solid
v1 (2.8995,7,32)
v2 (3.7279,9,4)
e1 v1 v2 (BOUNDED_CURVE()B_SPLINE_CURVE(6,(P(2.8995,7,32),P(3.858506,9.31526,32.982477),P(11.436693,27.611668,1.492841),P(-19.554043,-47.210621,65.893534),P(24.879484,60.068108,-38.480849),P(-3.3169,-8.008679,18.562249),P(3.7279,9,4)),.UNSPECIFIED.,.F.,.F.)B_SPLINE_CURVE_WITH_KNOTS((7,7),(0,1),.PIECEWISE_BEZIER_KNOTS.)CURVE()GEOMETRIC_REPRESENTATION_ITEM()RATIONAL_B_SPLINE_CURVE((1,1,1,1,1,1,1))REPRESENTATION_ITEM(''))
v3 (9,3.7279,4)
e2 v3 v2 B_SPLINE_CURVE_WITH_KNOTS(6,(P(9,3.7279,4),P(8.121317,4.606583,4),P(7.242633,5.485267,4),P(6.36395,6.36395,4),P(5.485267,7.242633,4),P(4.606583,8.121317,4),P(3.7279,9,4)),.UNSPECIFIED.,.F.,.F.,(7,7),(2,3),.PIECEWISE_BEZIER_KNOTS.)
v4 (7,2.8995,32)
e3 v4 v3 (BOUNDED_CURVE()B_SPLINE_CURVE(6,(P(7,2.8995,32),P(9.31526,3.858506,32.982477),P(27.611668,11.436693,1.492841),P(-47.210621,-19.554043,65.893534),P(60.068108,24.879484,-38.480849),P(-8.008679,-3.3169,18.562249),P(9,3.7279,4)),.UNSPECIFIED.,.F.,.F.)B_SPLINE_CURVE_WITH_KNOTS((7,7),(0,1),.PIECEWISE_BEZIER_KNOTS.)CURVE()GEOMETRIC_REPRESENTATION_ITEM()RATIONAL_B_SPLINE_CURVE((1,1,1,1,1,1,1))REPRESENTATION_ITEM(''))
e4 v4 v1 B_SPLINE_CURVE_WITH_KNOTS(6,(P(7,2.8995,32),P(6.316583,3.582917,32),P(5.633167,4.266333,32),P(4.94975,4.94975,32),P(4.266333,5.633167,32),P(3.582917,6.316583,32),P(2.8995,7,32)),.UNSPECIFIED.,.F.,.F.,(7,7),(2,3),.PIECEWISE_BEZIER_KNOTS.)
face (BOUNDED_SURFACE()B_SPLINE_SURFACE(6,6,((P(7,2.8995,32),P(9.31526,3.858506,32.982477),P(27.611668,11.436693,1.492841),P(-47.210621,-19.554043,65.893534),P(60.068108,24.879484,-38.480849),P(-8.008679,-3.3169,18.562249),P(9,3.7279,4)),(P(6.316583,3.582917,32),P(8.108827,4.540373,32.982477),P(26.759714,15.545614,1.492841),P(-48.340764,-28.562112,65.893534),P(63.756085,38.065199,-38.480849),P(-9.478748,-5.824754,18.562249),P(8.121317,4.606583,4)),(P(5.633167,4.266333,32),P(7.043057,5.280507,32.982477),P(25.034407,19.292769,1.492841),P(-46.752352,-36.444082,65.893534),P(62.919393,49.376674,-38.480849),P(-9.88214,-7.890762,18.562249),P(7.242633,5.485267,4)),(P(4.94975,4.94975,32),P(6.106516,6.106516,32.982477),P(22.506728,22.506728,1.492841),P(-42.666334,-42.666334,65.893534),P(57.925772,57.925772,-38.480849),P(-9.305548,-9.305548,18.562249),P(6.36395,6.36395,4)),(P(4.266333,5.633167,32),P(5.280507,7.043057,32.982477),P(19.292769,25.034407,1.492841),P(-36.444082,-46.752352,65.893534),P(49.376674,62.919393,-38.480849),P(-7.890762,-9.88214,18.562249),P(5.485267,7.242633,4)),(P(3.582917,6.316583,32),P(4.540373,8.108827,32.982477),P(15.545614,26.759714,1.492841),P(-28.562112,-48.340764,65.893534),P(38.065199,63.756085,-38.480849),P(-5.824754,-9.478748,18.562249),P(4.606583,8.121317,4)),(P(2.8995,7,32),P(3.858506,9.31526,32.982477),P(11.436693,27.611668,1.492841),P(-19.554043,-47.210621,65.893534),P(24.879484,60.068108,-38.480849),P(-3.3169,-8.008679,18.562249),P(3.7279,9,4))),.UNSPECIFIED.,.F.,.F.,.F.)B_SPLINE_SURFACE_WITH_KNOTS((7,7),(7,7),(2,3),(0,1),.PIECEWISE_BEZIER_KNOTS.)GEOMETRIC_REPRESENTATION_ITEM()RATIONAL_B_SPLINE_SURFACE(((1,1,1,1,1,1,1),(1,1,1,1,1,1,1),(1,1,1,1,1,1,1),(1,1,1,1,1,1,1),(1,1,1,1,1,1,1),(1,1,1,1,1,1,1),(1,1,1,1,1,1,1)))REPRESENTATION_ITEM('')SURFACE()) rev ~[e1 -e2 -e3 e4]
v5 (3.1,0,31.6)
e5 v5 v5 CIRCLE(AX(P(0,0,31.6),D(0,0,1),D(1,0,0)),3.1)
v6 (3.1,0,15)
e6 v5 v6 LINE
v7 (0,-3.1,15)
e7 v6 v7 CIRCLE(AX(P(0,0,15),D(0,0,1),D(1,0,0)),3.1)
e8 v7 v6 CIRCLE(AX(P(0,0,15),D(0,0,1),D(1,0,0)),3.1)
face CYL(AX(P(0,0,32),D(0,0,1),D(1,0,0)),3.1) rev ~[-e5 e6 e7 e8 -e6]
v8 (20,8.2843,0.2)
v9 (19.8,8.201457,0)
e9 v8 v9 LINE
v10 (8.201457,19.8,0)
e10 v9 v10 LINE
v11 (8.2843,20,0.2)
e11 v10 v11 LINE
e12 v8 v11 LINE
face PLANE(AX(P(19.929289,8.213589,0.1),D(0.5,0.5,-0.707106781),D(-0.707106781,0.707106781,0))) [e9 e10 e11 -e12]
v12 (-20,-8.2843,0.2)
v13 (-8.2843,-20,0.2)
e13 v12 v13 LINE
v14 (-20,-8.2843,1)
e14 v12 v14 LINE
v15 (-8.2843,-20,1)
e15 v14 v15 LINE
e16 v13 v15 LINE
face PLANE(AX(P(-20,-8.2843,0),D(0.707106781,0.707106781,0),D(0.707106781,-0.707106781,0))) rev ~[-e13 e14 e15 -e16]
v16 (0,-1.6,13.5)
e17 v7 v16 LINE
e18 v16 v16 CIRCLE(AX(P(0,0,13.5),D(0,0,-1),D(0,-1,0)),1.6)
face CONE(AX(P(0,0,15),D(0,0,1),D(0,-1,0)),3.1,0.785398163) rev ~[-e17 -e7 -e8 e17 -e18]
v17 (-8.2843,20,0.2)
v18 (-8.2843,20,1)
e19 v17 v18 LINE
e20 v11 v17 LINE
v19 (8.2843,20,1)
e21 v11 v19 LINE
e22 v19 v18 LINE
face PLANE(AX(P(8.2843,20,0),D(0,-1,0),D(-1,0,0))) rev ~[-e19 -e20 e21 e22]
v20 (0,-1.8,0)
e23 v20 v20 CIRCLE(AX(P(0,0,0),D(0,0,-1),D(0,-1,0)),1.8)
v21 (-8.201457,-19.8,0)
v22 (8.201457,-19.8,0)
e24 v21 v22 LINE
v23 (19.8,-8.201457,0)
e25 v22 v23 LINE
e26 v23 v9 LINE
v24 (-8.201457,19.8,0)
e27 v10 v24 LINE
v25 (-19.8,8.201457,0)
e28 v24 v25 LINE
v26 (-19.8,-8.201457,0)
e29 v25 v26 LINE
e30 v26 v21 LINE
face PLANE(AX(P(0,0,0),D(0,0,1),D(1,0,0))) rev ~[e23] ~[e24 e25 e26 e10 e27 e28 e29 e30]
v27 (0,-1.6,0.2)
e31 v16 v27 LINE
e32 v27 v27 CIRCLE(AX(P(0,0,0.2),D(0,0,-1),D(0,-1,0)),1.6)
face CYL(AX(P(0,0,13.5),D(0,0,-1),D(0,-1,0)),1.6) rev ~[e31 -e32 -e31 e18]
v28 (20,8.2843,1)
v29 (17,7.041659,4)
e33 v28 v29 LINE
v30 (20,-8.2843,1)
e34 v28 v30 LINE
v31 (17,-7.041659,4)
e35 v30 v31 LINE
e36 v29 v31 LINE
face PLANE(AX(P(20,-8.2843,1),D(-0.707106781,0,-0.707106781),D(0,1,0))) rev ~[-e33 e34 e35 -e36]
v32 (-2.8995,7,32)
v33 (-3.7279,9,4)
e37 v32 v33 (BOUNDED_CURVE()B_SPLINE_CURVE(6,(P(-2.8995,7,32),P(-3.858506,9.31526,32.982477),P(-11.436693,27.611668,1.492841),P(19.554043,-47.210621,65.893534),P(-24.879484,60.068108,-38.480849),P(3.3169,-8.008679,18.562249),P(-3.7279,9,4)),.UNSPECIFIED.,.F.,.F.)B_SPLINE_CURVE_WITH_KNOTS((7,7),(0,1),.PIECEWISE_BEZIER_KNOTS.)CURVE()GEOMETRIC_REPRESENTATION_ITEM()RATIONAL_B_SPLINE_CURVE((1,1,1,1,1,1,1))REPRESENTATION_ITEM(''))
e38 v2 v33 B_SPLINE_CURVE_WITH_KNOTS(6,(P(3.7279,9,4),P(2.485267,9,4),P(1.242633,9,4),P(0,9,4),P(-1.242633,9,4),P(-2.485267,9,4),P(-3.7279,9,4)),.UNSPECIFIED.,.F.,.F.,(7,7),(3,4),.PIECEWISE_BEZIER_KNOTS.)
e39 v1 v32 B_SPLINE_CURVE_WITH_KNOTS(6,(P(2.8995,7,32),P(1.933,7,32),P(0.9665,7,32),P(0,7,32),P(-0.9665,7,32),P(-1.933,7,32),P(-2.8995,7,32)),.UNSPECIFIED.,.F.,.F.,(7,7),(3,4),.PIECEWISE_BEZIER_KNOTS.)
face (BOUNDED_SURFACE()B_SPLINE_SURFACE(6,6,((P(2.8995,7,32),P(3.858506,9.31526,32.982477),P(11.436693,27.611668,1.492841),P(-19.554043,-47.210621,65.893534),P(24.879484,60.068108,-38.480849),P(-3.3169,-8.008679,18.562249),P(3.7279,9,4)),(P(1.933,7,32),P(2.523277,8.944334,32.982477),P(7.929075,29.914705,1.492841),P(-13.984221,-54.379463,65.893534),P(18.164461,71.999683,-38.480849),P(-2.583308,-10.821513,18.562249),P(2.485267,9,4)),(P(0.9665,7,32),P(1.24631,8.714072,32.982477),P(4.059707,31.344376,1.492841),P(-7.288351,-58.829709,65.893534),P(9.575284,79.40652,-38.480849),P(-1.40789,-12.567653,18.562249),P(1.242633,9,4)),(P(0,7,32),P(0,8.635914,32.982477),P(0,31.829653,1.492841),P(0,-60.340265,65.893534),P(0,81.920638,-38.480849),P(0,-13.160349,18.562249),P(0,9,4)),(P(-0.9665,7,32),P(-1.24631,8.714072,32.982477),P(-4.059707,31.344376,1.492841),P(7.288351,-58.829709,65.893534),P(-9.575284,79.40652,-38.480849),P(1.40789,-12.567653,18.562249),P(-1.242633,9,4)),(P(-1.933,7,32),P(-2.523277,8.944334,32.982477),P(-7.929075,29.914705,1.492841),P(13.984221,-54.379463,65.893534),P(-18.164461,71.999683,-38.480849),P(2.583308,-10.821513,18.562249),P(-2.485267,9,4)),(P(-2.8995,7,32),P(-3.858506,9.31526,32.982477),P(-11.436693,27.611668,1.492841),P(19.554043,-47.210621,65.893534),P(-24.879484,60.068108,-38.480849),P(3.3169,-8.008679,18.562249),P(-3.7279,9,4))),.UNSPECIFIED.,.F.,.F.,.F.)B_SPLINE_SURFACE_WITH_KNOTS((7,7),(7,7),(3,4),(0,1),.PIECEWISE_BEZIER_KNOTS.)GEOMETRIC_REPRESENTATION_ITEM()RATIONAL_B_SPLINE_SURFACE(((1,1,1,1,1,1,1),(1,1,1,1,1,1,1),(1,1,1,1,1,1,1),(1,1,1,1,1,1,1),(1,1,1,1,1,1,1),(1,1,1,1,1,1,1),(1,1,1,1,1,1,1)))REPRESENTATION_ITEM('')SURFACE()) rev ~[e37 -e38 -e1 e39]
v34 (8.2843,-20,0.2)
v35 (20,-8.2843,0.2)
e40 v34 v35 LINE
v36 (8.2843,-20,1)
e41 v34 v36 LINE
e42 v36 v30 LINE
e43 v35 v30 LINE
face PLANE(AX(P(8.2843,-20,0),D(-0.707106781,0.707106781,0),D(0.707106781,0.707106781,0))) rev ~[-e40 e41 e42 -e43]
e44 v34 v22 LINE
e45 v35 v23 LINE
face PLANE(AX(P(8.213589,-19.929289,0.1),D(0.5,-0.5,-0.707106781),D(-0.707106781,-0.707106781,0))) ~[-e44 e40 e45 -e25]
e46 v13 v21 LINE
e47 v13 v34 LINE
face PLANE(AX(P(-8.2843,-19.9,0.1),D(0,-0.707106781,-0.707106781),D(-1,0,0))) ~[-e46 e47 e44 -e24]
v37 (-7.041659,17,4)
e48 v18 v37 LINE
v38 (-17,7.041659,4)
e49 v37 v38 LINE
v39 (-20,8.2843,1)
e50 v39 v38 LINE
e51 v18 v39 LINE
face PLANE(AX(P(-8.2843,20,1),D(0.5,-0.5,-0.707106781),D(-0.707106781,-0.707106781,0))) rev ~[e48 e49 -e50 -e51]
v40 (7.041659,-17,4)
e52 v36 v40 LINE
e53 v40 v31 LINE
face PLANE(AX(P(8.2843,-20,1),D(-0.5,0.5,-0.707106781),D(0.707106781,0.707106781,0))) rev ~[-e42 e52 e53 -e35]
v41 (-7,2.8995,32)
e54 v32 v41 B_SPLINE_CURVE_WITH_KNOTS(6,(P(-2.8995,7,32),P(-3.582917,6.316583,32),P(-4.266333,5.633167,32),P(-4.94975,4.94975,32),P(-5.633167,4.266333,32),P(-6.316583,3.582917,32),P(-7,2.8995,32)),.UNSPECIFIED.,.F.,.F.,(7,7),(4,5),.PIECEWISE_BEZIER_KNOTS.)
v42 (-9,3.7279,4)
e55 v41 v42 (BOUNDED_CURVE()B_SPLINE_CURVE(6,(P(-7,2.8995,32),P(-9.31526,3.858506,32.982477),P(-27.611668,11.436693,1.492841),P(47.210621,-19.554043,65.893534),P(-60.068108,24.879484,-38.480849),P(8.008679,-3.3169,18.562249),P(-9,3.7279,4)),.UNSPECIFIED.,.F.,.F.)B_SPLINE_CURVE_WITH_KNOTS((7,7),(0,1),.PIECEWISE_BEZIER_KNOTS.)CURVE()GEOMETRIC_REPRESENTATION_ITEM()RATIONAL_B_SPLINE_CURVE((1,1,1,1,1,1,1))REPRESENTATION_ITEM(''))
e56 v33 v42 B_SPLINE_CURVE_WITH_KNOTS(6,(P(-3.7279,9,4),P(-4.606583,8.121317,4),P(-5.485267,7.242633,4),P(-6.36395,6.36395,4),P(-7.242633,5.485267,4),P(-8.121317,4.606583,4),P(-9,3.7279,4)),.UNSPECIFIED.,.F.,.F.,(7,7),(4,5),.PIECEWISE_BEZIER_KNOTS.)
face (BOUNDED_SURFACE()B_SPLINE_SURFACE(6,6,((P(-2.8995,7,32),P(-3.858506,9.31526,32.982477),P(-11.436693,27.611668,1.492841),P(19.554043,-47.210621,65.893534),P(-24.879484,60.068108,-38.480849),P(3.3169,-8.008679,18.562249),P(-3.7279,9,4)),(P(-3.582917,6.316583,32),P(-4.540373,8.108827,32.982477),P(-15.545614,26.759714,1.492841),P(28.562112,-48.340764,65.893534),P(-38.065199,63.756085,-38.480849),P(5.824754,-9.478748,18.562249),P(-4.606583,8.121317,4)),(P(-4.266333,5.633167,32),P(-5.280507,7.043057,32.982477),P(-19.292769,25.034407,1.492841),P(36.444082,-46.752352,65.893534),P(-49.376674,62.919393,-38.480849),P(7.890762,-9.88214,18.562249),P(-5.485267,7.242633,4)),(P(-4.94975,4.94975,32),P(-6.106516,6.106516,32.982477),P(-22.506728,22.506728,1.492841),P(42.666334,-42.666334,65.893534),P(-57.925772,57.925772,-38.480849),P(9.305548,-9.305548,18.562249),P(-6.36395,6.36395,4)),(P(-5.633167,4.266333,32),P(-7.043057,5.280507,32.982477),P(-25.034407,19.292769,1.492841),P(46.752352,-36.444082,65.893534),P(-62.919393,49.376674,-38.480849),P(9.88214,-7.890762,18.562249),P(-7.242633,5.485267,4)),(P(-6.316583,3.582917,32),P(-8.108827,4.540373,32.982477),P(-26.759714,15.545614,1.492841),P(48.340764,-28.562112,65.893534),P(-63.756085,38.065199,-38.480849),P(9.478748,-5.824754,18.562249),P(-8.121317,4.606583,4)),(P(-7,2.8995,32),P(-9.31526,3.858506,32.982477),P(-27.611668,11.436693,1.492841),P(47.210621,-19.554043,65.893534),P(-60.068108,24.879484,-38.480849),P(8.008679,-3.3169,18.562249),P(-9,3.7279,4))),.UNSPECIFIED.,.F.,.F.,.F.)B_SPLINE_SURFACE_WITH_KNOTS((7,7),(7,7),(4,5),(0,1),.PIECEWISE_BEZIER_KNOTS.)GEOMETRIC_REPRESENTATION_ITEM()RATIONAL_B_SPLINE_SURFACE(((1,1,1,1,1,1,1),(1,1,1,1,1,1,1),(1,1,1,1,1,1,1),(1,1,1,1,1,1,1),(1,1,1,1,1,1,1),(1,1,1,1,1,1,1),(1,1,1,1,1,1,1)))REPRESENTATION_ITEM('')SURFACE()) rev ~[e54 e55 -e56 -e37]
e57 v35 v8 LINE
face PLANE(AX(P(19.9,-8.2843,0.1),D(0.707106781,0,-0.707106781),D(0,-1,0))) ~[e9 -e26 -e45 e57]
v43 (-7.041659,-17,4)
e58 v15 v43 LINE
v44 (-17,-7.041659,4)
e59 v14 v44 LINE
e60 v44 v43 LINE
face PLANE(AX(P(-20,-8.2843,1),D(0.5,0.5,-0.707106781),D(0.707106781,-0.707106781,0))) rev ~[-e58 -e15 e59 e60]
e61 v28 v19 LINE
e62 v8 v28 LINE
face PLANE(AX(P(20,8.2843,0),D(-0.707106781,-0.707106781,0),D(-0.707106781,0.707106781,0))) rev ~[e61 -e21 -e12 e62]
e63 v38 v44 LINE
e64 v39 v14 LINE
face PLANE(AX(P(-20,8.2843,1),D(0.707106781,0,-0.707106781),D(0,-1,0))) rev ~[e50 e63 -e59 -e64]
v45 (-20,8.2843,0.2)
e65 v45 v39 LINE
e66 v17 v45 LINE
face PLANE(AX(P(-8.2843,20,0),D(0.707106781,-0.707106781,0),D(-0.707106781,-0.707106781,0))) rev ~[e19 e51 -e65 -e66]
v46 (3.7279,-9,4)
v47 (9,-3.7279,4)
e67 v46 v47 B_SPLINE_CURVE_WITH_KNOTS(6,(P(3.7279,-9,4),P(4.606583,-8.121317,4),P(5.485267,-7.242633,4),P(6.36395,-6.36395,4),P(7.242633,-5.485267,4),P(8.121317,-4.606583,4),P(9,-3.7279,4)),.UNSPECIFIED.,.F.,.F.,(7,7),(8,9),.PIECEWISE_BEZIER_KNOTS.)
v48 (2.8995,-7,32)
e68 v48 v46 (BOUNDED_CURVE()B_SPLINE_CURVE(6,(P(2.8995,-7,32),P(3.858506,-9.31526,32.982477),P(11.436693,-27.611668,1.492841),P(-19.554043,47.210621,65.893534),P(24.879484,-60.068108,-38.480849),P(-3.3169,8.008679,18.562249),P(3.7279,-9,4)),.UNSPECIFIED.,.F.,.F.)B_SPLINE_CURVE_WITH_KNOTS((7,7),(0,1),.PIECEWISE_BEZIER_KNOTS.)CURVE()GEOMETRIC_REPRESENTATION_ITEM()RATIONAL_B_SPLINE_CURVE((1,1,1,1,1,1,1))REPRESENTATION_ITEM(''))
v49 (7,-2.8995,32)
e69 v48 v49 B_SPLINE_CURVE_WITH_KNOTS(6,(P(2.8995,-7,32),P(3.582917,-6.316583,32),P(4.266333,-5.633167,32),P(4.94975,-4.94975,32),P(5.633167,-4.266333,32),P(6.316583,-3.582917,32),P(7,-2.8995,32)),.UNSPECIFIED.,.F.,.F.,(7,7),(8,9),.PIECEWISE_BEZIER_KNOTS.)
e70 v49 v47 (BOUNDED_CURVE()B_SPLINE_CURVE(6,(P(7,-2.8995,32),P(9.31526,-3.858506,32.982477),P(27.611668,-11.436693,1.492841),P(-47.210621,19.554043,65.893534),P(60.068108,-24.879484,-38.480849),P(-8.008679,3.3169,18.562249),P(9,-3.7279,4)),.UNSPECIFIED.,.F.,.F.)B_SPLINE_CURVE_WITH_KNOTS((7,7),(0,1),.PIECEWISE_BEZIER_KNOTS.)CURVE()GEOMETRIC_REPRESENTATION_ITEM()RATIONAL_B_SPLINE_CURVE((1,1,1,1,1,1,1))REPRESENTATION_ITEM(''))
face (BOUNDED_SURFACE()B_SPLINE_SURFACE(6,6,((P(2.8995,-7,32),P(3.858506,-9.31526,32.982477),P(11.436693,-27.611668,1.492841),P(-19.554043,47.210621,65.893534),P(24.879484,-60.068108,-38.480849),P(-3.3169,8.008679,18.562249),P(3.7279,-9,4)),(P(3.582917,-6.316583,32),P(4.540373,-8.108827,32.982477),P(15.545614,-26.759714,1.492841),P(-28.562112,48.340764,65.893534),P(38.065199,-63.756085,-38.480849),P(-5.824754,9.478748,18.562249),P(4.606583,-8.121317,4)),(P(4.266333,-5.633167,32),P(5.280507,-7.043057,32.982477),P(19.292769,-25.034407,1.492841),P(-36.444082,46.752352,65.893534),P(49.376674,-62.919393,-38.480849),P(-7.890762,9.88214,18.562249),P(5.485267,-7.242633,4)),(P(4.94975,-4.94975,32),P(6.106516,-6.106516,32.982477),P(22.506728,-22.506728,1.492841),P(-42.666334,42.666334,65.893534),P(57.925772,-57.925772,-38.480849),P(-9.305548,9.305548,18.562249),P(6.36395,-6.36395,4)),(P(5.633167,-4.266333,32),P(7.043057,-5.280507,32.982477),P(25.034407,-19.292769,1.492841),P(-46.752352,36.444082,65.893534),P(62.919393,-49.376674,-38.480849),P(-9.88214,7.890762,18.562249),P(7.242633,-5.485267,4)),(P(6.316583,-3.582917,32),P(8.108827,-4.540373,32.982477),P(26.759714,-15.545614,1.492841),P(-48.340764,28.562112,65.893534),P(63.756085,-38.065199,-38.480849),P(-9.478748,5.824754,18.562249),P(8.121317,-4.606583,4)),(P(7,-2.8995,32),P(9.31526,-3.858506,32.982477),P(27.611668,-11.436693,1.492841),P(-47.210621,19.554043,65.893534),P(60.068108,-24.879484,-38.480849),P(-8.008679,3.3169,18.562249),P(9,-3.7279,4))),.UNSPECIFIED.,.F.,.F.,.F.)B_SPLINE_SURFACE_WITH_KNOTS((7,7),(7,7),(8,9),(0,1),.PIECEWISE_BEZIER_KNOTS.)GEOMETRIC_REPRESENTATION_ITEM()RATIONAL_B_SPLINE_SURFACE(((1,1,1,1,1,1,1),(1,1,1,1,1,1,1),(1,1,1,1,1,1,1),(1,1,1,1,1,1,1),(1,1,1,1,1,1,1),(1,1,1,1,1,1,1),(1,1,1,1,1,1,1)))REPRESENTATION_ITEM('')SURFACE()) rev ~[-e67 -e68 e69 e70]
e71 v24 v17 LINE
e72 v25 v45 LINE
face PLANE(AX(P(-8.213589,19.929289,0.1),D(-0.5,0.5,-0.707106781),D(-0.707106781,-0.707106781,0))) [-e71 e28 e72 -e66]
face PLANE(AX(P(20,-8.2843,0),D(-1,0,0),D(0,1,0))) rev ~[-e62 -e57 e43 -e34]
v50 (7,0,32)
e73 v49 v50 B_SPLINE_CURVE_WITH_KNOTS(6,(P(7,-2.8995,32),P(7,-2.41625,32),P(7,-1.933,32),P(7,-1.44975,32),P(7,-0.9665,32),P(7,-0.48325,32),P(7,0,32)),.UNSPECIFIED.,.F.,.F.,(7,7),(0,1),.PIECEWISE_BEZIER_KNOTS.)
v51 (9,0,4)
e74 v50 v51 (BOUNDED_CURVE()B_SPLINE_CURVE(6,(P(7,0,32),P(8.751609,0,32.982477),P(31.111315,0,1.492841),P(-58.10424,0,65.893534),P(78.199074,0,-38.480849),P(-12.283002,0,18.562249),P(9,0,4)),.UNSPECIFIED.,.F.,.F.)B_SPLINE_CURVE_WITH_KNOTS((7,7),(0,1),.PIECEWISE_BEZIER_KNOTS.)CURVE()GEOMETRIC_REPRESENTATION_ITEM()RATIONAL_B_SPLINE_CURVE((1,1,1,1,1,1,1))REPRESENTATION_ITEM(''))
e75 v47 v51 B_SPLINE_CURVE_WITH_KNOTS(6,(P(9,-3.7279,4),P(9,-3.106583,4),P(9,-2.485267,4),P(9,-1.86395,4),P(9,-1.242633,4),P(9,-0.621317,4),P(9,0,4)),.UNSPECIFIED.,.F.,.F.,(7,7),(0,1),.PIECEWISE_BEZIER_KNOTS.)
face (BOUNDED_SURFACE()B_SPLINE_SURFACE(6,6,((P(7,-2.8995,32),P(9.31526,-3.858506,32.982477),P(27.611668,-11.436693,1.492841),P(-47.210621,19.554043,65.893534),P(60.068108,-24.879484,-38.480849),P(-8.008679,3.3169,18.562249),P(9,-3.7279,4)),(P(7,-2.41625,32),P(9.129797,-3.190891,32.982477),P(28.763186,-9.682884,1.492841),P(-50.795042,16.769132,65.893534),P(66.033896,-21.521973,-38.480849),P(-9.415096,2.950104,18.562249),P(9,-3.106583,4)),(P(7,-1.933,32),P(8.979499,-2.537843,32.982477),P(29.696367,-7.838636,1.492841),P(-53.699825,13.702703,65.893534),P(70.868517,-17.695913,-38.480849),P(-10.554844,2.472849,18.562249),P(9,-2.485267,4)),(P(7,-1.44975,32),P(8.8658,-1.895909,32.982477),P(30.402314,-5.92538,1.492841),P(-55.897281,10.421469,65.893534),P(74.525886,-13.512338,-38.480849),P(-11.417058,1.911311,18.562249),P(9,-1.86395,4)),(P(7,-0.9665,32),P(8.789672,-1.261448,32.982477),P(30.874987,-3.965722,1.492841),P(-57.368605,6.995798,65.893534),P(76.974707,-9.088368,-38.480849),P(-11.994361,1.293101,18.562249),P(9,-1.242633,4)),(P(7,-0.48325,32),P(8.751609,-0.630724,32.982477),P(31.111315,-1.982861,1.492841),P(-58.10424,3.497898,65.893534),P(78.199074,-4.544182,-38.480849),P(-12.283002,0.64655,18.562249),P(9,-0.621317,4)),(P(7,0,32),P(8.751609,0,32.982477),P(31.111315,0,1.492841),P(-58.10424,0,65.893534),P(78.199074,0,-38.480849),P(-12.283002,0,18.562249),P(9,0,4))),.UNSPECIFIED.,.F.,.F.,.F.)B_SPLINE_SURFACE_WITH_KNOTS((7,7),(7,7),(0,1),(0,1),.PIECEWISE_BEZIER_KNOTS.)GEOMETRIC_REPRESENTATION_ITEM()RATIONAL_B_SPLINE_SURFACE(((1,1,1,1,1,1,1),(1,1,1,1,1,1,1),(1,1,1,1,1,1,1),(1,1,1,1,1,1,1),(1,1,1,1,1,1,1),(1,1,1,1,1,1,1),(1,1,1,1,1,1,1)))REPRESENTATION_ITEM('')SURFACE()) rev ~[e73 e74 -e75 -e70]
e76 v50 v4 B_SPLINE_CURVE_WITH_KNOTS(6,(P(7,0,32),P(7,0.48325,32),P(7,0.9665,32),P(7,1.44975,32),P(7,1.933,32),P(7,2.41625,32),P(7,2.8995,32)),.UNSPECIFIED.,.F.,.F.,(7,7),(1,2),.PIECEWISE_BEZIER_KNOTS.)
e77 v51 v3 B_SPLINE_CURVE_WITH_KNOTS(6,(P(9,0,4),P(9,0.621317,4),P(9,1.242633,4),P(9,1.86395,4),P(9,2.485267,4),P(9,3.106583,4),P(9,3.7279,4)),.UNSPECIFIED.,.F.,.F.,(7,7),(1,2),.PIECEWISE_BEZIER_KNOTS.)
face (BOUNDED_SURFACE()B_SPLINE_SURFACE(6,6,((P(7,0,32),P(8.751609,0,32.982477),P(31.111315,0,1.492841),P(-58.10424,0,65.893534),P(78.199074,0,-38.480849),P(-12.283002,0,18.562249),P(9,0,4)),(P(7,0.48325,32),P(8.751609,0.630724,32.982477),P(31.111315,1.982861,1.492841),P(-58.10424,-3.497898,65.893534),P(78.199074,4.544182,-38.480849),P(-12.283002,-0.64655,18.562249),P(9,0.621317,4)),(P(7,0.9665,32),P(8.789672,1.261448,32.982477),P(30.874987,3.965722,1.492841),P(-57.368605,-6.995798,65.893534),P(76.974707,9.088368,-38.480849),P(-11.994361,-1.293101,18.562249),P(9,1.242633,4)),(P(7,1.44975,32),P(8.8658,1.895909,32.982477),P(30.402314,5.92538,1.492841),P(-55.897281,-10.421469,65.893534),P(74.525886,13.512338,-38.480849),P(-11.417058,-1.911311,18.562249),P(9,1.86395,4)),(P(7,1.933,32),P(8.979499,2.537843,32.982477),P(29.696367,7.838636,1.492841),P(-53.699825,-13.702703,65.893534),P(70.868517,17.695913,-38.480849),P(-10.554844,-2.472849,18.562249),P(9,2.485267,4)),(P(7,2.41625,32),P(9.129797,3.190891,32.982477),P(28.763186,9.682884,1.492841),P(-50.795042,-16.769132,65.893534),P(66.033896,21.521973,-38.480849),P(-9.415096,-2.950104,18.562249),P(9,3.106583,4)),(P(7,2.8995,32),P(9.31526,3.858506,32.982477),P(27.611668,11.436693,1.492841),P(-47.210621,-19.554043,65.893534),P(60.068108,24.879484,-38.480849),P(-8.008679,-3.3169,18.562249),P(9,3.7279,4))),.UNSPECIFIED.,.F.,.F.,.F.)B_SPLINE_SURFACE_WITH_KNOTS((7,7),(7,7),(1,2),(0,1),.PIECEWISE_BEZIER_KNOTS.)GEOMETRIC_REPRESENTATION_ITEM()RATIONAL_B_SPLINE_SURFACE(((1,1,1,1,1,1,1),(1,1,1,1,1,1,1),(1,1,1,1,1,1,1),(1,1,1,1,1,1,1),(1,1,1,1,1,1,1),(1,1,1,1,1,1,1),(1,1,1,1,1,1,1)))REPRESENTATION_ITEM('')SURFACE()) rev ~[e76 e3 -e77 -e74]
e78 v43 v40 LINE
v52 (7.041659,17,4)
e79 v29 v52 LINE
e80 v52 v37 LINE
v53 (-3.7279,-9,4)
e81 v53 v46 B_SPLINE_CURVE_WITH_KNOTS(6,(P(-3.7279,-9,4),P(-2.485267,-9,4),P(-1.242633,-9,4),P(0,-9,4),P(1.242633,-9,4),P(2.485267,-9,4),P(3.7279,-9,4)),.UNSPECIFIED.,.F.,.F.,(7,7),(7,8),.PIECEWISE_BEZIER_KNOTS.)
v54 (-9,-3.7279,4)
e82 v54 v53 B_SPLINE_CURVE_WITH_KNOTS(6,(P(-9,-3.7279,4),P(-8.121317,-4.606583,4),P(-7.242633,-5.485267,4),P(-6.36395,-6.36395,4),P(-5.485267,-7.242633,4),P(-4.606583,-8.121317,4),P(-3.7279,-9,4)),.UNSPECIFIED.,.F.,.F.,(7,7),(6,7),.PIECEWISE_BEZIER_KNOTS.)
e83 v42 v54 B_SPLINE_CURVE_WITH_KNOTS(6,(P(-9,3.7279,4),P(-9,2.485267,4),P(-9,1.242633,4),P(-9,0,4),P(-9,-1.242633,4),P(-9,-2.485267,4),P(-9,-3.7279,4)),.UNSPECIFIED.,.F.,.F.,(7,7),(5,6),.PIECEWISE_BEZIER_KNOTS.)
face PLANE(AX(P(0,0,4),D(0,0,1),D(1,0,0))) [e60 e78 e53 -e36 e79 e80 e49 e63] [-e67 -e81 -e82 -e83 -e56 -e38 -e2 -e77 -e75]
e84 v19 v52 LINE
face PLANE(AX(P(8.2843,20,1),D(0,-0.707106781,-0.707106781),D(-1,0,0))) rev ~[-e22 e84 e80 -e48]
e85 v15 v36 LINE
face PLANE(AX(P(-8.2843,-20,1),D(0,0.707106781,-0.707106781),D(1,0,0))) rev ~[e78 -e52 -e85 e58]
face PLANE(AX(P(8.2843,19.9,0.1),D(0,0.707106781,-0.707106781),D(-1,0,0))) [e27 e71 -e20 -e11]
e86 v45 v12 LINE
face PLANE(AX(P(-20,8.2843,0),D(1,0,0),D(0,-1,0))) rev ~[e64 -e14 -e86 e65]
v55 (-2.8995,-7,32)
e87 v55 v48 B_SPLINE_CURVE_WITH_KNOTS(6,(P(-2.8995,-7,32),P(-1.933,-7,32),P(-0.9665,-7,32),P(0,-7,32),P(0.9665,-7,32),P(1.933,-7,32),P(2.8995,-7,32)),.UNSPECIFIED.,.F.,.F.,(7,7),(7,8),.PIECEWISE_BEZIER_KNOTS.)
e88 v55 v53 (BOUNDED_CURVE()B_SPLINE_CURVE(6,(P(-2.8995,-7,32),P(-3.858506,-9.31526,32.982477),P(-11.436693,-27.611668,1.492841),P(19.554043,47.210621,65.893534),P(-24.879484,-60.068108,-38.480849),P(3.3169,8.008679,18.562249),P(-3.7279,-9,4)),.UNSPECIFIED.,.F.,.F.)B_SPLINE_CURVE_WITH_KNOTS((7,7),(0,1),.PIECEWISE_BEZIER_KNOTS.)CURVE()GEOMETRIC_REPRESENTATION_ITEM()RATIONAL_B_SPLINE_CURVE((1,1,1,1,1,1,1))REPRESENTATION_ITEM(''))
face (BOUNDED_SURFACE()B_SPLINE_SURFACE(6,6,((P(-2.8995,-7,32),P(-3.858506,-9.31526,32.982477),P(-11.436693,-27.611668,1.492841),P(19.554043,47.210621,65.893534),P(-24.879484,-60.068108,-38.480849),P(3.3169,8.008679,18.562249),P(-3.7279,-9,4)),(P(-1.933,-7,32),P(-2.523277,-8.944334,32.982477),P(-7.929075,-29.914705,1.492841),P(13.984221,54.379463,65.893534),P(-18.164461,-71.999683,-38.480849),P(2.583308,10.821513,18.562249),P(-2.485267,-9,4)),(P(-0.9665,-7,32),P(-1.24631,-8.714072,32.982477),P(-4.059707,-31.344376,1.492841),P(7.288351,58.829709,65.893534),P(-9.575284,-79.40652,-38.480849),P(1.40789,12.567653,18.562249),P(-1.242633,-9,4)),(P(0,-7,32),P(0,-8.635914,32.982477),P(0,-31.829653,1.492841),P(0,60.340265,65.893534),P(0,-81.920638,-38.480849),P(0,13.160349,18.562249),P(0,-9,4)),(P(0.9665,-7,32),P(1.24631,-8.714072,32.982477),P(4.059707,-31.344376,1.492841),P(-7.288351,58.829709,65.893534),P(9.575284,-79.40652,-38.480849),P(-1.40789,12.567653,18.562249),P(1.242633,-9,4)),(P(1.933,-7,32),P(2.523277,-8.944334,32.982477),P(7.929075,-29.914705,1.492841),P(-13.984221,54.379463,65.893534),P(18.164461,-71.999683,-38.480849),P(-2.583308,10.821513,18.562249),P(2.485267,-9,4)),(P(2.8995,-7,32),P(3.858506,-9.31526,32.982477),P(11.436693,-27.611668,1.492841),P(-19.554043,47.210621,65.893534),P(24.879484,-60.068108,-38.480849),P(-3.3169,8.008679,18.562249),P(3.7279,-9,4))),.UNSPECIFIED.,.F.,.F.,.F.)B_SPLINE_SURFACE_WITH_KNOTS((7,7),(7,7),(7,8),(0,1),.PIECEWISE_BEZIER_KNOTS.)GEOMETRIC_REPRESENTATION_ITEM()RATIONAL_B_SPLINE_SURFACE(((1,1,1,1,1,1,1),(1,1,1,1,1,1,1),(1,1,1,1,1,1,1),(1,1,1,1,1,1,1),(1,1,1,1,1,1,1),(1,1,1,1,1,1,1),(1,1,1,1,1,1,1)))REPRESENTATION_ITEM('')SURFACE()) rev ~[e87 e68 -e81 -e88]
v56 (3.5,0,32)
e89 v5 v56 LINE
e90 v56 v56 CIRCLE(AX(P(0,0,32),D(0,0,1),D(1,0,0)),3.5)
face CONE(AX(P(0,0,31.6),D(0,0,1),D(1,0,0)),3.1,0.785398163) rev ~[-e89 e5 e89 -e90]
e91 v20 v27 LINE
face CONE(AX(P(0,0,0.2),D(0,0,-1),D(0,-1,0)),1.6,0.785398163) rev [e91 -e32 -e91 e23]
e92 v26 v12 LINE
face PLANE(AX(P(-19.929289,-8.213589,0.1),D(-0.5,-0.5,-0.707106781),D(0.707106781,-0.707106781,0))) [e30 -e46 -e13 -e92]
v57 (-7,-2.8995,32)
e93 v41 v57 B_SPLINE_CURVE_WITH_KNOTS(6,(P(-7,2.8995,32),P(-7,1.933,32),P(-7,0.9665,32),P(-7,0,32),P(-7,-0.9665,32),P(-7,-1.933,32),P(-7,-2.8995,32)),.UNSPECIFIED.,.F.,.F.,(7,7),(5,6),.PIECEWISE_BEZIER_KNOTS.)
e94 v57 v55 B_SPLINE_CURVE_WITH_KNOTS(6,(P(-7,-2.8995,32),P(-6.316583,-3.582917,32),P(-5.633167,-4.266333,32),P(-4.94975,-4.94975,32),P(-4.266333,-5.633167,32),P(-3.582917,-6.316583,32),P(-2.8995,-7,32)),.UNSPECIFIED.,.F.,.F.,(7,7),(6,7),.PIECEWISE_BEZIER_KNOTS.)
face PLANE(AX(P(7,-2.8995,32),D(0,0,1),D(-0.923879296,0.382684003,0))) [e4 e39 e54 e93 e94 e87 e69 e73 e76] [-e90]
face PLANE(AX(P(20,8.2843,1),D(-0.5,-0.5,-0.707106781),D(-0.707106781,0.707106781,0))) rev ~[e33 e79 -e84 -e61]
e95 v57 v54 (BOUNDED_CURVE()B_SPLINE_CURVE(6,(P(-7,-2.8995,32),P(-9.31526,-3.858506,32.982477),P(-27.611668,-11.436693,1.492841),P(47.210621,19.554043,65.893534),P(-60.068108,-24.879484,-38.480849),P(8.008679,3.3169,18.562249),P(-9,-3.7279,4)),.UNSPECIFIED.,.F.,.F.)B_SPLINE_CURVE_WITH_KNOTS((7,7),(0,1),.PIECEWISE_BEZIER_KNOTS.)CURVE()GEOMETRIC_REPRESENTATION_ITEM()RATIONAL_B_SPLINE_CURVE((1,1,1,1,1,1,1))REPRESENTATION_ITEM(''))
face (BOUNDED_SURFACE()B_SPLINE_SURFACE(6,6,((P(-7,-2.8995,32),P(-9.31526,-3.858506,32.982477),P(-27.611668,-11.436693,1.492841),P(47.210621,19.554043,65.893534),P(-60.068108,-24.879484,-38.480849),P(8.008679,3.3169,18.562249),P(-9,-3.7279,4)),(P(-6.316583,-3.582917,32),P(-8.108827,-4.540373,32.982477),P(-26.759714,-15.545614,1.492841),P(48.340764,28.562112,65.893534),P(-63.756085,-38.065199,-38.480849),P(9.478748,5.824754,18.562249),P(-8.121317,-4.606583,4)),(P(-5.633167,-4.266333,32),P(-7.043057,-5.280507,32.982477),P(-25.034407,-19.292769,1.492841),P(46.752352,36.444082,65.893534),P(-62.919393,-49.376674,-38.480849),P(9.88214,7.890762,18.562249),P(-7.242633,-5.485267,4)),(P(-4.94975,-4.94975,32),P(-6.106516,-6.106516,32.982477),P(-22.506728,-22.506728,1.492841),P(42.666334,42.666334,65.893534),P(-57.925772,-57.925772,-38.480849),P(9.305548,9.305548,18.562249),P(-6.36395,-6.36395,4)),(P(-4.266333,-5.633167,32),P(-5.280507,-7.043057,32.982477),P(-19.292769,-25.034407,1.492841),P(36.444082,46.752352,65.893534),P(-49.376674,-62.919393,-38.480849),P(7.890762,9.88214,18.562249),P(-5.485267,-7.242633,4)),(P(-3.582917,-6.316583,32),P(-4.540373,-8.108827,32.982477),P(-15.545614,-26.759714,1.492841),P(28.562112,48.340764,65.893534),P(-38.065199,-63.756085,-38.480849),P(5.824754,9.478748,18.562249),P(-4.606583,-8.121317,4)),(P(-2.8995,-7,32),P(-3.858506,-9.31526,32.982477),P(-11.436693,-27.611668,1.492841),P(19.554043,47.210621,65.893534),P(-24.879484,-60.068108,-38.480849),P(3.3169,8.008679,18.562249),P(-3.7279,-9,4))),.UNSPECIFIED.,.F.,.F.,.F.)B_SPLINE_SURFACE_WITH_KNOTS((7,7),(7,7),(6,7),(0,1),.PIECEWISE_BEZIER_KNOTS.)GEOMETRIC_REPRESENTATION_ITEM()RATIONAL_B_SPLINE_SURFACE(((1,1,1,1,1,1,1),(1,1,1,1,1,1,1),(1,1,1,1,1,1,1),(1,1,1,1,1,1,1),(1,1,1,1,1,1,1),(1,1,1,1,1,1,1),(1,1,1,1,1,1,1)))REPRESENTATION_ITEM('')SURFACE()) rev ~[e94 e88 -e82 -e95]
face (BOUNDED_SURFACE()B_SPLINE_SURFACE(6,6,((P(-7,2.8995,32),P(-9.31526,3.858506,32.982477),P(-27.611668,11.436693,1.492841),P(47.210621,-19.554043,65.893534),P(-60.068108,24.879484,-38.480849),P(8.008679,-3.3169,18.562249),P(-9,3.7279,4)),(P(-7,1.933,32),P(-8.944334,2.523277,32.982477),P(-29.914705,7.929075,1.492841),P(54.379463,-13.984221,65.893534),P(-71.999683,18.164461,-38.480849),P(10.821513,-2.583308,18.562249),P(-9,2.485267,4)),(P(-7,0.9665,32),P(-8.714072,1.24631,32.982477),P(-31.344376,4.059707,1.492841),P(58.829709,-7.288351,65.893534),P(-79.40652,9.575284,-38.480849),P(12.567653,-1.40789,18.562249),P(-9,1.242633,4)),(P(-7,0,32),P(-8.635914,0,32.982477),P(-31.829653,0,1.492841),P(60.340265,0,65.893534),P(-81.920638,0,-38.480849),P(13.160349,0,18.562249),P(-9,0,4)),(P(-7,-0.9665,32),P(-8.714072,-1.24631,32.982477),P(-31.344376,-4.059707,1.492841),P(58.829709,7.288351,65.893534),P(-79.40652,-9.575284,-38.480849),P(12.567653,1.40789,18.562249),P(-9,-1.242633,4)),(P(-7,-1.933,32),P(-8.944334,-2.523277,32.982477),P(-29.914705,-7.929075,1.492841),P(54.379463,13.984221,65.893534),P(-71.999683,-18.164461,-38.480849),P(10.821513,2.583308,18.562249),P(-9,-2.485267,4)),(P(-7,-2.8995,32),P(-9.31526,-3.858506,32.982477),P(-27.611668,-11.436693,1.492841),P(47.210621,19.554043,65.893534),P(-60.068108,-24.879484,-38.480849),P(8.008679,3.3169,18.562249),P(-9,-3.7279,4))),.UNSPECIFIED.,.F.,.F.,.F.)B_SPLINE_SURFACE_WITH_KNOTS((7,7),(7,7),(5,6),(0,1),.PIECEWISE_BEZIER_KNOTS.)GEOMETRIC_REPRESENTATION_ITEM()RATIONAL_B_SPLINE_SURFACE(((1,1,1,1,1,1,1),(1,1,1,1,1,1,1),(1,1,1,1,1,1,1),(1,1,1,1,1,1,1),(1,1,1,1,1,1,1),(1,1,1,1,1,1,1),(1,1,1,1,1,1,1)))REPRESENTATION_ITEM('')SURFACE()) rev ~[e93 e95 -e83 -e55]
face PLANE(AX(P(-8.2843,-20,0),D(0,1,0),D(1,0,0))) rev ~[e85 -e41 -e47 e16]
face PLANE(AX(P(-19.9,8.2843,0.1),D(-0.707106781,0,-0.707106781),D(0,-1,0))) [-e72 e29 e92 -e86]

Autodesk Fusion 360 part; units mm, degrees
sketch "Sketch1" plane through (0, 0, 0) normal (0, 0, 1) x (1, 0, 0)
  line L0 (20, -8.2843) -> (20, 8.2843)
  line L1 (20, 8.2843) -> (8.2843, 20)
  line L2 (8.2843, 20) -> (-8.2843, 20)
  line L3 (-8.2843, 20) -> (-20, 8.2843)
  line L4 (-20, 8.2843) -> (-20, -8.2843)
  line L5 (-20, -8.2843) -> (-8.2843, -20)
  line L6 (-8.2843, -20) -> (8.2843, -20)
  line L7 (8.2843, -20) -> (20, -8.2843)
  line L8 (1.75, 0) -> (22.5, 0)
  dimension "d1" = 20
ref_plane "WorkPlane1" through (0, 0, 4) normal (0, 0, 1) x (1, 0, 0)
ref_plane "WorkPlane2" through (0, 0, 6) normal (0, 0, 1) x (1, 0, 0)
ref_plane "WorkPlane7" through (0, 0, 21) normal (0, 0, 1) x (1, 0, 0)
ref_plane "WorkPlane3" through (0, 0, 24) normal (0, 0, 1) x (1, 0, 0)
ref_plane "WorkPlane4" through (0, 0, 26) normal (0, 0, 1) x (1, 0, 0)
ref_plane "WorkPlane5" through (0, 0, 30) normal (0, 0, 1) x (1, 0, 0)
ref_plane "WorkPlane6" through (0, 0, 32) normal (0, 0, 1) x (1, 0, 0)
sketch "Sketch2" plane through (0, 0, 4) normal (0, 0, 1) x (1, 0, 0)
  line L0 (-3.7279, -9) -> (3.7279, -9)
  line L1 (3.7279, -9) -> (9, -3.7279)
  line L2 (9, -3.7279) -> (9, 3.7279)
  line L3 (9, 3.7279) -> (3.7279, 9)
  line L4 (3.7279, 9) -> (-3.7279, 9)
  line L5 (-3.7279, 9) -> (-9, 3.7279)
  line L6 (-9, 3.7279) -> (-9, -3.7279)
  line L7 (-9, -3.7279) -> (-3.7279, -9)
  line L8 (8.2843, 20) -> (-8.2843, 20)
  dimension "d8" = 9
  dimension "d22" = 19.4831
sketch "Sketch3" plane through (0, 0, 6) normal (0, 0, 1) x (1, 0, 0)
  line L0 (-7, 2.8995) -> (-7, -2.8995)
  line L1 (-7, -2.8995) -> (-2.8995, -7)
  line L2 (-2.8995, -7) -> (2.8995, -7)
  line L3 (2.8995, -7) -> (7, -2.8995)
  line L4 (7, -2.8995) -> (7, 2.8995)
  line L5 (7, 2.8995) -> (2.8995, 7)
  line L6 (2.8995, 7) -> (-2.8995, 7)
  line L7 (-2.8995, 7) -> (-7, 2.8995)
  line L8 (3.7279, 9) -> (-3.7279, 9)
  dimension "d9" = 7
sketch "Sketch8" plane through (0, 0, 21) normal (0, 0, 1) x (1, 0, 0)
  circle A0 centre (0, 0) radius 6
  line L0 (-7, 2.8995) -> (-7, -2.8995)
  dimension "d24" = 12
sketch "Sketch4" plane through (0, 0, 24) normal (0, 0, 1) x (1, 0, 0)
  line L0 (-2.8995, 7) -> (-7, 2.8995)
  line L1 (-7, 2.8995) -> (-7, -2.8995)
  line L2 (-7, -2.8995) -> (-2.8995, -7)
  line L3 (-2.8995, -7) -> (2.8995, -7)
  line L4 (2.8995, -7) -> (7, -2.8995)
  line L5 (7, -2.8995) -> (7, 2.8995)
  line L6 (2.8995, 7) -> (-2.8995, 7)
  line L7 (7, 2.8995) -> (2.8995, 7)
sketch "Sketch5" plane through (0, 0, 26) normal (0, 0, 1) x (1, 0, 0)
  line L0 (-3.7279, 9) -> (-9, 3.7279)
  line L1 (-9, 3.7279) -> (-9, -3.7279)
  line L2 (-9, -3.7279) -> (-3.7279, -9)
  line L3 (-3.7279, -9) -> (3.7279, -9)
  line L4 (3.7279, -9) -> (9, -3.7279)
  line L5 (9, -3.7279) -> (9, 3.7279)
  line L6 (3.7279, 9) -> (-3.7279, 9)
  line L7 (9, 3.7279) -> (3.7279, 9)
sketch "Sketch6" plane through (0, 0, 30) normal (0, 0, 1) x (1, 0, 0)
  line L0 (9, -3.7279) -> (9, 3.7279)
  line L1 (9, 3.7279) -> (3.7279, 9)
  line L2 (3.7279, 9) -> (-3.7279, 9)
  line L3 (-3.7279, 9) -> (-9, 3.7279)
  line L4 (-9, 3.7279) -> (-9, -3.7279)
  line L5 (-9, -3.7279) -> (-3.7279, -9)
  line L6 (3.7279, -9) -> (9, -3.7279)
  line L7 (-3.7279, -9) -> (3.7279, -9)
sketch "Sketch7" plane through (0, 0, 32) normal (0, 0, 1) x (1, 0, 0)
  line L0 (7, 2.8995) -> (2.8995, 7)
  line L1 (2.8995, 7) -> (-2.8995, 7)
  line L2 (-2.8995, 7) -> (-7, 2.8995)
  line L3 (-7, 2.8995) -> (-7, -2.8995)
  line L4 (-7, -2.8995) -> (-2.8995, -7)
  line L5 (-2.8995, -7) -> (2.8995, -7)
  line L6 (7, -2.8995) -> (7, 2.8995)
  line L7 (2.8995, -7) -> (7, -2.8995)
  circle A0 centre (0, 0) radius 3.1
  dimension "d14" = 6.2
loft "Loft2" add profiles "Sketch7", "Sketch6", "Sketch5", "Sketch4", "Sketch8", "Sketch3", "Sketch2" section 1 contours L0 L1 L2 L3 L4 L5 L6 L7 | A0 section 2 section 3 section 4 section 5 section 6 section 7 makes body 1
extrude "Extrude1" add sketch "Sketch1" along normal blind 1 separate body makes body 2
extrude "Extrude2" add 1 faces at (-6.6667, 0, 1) along direction (0, 0, 1) up to surface (3 mm away) draft -45 on bodies 2 bodies 2 1
extrude "Extrude3" cut sketch "Sketch7" against normal up to surface (17 mm away) contours A0 bodies 2
hole "Hole1" at (0, 0, 15) direction (0, 0, -1) diameter 3.2 end through all countersink diameter 6.2 countersink angle 90 bodies 2 2
chamfer "Chamfer2" distance 0.2 angle 45 1 faces at (-13.8652, 0.0399, 0) on bodies 2
chamfer "Chamfer2" distance 0.4 angle 45 1 edges at (-2.8902, 1.121, 32) on bodies 2
